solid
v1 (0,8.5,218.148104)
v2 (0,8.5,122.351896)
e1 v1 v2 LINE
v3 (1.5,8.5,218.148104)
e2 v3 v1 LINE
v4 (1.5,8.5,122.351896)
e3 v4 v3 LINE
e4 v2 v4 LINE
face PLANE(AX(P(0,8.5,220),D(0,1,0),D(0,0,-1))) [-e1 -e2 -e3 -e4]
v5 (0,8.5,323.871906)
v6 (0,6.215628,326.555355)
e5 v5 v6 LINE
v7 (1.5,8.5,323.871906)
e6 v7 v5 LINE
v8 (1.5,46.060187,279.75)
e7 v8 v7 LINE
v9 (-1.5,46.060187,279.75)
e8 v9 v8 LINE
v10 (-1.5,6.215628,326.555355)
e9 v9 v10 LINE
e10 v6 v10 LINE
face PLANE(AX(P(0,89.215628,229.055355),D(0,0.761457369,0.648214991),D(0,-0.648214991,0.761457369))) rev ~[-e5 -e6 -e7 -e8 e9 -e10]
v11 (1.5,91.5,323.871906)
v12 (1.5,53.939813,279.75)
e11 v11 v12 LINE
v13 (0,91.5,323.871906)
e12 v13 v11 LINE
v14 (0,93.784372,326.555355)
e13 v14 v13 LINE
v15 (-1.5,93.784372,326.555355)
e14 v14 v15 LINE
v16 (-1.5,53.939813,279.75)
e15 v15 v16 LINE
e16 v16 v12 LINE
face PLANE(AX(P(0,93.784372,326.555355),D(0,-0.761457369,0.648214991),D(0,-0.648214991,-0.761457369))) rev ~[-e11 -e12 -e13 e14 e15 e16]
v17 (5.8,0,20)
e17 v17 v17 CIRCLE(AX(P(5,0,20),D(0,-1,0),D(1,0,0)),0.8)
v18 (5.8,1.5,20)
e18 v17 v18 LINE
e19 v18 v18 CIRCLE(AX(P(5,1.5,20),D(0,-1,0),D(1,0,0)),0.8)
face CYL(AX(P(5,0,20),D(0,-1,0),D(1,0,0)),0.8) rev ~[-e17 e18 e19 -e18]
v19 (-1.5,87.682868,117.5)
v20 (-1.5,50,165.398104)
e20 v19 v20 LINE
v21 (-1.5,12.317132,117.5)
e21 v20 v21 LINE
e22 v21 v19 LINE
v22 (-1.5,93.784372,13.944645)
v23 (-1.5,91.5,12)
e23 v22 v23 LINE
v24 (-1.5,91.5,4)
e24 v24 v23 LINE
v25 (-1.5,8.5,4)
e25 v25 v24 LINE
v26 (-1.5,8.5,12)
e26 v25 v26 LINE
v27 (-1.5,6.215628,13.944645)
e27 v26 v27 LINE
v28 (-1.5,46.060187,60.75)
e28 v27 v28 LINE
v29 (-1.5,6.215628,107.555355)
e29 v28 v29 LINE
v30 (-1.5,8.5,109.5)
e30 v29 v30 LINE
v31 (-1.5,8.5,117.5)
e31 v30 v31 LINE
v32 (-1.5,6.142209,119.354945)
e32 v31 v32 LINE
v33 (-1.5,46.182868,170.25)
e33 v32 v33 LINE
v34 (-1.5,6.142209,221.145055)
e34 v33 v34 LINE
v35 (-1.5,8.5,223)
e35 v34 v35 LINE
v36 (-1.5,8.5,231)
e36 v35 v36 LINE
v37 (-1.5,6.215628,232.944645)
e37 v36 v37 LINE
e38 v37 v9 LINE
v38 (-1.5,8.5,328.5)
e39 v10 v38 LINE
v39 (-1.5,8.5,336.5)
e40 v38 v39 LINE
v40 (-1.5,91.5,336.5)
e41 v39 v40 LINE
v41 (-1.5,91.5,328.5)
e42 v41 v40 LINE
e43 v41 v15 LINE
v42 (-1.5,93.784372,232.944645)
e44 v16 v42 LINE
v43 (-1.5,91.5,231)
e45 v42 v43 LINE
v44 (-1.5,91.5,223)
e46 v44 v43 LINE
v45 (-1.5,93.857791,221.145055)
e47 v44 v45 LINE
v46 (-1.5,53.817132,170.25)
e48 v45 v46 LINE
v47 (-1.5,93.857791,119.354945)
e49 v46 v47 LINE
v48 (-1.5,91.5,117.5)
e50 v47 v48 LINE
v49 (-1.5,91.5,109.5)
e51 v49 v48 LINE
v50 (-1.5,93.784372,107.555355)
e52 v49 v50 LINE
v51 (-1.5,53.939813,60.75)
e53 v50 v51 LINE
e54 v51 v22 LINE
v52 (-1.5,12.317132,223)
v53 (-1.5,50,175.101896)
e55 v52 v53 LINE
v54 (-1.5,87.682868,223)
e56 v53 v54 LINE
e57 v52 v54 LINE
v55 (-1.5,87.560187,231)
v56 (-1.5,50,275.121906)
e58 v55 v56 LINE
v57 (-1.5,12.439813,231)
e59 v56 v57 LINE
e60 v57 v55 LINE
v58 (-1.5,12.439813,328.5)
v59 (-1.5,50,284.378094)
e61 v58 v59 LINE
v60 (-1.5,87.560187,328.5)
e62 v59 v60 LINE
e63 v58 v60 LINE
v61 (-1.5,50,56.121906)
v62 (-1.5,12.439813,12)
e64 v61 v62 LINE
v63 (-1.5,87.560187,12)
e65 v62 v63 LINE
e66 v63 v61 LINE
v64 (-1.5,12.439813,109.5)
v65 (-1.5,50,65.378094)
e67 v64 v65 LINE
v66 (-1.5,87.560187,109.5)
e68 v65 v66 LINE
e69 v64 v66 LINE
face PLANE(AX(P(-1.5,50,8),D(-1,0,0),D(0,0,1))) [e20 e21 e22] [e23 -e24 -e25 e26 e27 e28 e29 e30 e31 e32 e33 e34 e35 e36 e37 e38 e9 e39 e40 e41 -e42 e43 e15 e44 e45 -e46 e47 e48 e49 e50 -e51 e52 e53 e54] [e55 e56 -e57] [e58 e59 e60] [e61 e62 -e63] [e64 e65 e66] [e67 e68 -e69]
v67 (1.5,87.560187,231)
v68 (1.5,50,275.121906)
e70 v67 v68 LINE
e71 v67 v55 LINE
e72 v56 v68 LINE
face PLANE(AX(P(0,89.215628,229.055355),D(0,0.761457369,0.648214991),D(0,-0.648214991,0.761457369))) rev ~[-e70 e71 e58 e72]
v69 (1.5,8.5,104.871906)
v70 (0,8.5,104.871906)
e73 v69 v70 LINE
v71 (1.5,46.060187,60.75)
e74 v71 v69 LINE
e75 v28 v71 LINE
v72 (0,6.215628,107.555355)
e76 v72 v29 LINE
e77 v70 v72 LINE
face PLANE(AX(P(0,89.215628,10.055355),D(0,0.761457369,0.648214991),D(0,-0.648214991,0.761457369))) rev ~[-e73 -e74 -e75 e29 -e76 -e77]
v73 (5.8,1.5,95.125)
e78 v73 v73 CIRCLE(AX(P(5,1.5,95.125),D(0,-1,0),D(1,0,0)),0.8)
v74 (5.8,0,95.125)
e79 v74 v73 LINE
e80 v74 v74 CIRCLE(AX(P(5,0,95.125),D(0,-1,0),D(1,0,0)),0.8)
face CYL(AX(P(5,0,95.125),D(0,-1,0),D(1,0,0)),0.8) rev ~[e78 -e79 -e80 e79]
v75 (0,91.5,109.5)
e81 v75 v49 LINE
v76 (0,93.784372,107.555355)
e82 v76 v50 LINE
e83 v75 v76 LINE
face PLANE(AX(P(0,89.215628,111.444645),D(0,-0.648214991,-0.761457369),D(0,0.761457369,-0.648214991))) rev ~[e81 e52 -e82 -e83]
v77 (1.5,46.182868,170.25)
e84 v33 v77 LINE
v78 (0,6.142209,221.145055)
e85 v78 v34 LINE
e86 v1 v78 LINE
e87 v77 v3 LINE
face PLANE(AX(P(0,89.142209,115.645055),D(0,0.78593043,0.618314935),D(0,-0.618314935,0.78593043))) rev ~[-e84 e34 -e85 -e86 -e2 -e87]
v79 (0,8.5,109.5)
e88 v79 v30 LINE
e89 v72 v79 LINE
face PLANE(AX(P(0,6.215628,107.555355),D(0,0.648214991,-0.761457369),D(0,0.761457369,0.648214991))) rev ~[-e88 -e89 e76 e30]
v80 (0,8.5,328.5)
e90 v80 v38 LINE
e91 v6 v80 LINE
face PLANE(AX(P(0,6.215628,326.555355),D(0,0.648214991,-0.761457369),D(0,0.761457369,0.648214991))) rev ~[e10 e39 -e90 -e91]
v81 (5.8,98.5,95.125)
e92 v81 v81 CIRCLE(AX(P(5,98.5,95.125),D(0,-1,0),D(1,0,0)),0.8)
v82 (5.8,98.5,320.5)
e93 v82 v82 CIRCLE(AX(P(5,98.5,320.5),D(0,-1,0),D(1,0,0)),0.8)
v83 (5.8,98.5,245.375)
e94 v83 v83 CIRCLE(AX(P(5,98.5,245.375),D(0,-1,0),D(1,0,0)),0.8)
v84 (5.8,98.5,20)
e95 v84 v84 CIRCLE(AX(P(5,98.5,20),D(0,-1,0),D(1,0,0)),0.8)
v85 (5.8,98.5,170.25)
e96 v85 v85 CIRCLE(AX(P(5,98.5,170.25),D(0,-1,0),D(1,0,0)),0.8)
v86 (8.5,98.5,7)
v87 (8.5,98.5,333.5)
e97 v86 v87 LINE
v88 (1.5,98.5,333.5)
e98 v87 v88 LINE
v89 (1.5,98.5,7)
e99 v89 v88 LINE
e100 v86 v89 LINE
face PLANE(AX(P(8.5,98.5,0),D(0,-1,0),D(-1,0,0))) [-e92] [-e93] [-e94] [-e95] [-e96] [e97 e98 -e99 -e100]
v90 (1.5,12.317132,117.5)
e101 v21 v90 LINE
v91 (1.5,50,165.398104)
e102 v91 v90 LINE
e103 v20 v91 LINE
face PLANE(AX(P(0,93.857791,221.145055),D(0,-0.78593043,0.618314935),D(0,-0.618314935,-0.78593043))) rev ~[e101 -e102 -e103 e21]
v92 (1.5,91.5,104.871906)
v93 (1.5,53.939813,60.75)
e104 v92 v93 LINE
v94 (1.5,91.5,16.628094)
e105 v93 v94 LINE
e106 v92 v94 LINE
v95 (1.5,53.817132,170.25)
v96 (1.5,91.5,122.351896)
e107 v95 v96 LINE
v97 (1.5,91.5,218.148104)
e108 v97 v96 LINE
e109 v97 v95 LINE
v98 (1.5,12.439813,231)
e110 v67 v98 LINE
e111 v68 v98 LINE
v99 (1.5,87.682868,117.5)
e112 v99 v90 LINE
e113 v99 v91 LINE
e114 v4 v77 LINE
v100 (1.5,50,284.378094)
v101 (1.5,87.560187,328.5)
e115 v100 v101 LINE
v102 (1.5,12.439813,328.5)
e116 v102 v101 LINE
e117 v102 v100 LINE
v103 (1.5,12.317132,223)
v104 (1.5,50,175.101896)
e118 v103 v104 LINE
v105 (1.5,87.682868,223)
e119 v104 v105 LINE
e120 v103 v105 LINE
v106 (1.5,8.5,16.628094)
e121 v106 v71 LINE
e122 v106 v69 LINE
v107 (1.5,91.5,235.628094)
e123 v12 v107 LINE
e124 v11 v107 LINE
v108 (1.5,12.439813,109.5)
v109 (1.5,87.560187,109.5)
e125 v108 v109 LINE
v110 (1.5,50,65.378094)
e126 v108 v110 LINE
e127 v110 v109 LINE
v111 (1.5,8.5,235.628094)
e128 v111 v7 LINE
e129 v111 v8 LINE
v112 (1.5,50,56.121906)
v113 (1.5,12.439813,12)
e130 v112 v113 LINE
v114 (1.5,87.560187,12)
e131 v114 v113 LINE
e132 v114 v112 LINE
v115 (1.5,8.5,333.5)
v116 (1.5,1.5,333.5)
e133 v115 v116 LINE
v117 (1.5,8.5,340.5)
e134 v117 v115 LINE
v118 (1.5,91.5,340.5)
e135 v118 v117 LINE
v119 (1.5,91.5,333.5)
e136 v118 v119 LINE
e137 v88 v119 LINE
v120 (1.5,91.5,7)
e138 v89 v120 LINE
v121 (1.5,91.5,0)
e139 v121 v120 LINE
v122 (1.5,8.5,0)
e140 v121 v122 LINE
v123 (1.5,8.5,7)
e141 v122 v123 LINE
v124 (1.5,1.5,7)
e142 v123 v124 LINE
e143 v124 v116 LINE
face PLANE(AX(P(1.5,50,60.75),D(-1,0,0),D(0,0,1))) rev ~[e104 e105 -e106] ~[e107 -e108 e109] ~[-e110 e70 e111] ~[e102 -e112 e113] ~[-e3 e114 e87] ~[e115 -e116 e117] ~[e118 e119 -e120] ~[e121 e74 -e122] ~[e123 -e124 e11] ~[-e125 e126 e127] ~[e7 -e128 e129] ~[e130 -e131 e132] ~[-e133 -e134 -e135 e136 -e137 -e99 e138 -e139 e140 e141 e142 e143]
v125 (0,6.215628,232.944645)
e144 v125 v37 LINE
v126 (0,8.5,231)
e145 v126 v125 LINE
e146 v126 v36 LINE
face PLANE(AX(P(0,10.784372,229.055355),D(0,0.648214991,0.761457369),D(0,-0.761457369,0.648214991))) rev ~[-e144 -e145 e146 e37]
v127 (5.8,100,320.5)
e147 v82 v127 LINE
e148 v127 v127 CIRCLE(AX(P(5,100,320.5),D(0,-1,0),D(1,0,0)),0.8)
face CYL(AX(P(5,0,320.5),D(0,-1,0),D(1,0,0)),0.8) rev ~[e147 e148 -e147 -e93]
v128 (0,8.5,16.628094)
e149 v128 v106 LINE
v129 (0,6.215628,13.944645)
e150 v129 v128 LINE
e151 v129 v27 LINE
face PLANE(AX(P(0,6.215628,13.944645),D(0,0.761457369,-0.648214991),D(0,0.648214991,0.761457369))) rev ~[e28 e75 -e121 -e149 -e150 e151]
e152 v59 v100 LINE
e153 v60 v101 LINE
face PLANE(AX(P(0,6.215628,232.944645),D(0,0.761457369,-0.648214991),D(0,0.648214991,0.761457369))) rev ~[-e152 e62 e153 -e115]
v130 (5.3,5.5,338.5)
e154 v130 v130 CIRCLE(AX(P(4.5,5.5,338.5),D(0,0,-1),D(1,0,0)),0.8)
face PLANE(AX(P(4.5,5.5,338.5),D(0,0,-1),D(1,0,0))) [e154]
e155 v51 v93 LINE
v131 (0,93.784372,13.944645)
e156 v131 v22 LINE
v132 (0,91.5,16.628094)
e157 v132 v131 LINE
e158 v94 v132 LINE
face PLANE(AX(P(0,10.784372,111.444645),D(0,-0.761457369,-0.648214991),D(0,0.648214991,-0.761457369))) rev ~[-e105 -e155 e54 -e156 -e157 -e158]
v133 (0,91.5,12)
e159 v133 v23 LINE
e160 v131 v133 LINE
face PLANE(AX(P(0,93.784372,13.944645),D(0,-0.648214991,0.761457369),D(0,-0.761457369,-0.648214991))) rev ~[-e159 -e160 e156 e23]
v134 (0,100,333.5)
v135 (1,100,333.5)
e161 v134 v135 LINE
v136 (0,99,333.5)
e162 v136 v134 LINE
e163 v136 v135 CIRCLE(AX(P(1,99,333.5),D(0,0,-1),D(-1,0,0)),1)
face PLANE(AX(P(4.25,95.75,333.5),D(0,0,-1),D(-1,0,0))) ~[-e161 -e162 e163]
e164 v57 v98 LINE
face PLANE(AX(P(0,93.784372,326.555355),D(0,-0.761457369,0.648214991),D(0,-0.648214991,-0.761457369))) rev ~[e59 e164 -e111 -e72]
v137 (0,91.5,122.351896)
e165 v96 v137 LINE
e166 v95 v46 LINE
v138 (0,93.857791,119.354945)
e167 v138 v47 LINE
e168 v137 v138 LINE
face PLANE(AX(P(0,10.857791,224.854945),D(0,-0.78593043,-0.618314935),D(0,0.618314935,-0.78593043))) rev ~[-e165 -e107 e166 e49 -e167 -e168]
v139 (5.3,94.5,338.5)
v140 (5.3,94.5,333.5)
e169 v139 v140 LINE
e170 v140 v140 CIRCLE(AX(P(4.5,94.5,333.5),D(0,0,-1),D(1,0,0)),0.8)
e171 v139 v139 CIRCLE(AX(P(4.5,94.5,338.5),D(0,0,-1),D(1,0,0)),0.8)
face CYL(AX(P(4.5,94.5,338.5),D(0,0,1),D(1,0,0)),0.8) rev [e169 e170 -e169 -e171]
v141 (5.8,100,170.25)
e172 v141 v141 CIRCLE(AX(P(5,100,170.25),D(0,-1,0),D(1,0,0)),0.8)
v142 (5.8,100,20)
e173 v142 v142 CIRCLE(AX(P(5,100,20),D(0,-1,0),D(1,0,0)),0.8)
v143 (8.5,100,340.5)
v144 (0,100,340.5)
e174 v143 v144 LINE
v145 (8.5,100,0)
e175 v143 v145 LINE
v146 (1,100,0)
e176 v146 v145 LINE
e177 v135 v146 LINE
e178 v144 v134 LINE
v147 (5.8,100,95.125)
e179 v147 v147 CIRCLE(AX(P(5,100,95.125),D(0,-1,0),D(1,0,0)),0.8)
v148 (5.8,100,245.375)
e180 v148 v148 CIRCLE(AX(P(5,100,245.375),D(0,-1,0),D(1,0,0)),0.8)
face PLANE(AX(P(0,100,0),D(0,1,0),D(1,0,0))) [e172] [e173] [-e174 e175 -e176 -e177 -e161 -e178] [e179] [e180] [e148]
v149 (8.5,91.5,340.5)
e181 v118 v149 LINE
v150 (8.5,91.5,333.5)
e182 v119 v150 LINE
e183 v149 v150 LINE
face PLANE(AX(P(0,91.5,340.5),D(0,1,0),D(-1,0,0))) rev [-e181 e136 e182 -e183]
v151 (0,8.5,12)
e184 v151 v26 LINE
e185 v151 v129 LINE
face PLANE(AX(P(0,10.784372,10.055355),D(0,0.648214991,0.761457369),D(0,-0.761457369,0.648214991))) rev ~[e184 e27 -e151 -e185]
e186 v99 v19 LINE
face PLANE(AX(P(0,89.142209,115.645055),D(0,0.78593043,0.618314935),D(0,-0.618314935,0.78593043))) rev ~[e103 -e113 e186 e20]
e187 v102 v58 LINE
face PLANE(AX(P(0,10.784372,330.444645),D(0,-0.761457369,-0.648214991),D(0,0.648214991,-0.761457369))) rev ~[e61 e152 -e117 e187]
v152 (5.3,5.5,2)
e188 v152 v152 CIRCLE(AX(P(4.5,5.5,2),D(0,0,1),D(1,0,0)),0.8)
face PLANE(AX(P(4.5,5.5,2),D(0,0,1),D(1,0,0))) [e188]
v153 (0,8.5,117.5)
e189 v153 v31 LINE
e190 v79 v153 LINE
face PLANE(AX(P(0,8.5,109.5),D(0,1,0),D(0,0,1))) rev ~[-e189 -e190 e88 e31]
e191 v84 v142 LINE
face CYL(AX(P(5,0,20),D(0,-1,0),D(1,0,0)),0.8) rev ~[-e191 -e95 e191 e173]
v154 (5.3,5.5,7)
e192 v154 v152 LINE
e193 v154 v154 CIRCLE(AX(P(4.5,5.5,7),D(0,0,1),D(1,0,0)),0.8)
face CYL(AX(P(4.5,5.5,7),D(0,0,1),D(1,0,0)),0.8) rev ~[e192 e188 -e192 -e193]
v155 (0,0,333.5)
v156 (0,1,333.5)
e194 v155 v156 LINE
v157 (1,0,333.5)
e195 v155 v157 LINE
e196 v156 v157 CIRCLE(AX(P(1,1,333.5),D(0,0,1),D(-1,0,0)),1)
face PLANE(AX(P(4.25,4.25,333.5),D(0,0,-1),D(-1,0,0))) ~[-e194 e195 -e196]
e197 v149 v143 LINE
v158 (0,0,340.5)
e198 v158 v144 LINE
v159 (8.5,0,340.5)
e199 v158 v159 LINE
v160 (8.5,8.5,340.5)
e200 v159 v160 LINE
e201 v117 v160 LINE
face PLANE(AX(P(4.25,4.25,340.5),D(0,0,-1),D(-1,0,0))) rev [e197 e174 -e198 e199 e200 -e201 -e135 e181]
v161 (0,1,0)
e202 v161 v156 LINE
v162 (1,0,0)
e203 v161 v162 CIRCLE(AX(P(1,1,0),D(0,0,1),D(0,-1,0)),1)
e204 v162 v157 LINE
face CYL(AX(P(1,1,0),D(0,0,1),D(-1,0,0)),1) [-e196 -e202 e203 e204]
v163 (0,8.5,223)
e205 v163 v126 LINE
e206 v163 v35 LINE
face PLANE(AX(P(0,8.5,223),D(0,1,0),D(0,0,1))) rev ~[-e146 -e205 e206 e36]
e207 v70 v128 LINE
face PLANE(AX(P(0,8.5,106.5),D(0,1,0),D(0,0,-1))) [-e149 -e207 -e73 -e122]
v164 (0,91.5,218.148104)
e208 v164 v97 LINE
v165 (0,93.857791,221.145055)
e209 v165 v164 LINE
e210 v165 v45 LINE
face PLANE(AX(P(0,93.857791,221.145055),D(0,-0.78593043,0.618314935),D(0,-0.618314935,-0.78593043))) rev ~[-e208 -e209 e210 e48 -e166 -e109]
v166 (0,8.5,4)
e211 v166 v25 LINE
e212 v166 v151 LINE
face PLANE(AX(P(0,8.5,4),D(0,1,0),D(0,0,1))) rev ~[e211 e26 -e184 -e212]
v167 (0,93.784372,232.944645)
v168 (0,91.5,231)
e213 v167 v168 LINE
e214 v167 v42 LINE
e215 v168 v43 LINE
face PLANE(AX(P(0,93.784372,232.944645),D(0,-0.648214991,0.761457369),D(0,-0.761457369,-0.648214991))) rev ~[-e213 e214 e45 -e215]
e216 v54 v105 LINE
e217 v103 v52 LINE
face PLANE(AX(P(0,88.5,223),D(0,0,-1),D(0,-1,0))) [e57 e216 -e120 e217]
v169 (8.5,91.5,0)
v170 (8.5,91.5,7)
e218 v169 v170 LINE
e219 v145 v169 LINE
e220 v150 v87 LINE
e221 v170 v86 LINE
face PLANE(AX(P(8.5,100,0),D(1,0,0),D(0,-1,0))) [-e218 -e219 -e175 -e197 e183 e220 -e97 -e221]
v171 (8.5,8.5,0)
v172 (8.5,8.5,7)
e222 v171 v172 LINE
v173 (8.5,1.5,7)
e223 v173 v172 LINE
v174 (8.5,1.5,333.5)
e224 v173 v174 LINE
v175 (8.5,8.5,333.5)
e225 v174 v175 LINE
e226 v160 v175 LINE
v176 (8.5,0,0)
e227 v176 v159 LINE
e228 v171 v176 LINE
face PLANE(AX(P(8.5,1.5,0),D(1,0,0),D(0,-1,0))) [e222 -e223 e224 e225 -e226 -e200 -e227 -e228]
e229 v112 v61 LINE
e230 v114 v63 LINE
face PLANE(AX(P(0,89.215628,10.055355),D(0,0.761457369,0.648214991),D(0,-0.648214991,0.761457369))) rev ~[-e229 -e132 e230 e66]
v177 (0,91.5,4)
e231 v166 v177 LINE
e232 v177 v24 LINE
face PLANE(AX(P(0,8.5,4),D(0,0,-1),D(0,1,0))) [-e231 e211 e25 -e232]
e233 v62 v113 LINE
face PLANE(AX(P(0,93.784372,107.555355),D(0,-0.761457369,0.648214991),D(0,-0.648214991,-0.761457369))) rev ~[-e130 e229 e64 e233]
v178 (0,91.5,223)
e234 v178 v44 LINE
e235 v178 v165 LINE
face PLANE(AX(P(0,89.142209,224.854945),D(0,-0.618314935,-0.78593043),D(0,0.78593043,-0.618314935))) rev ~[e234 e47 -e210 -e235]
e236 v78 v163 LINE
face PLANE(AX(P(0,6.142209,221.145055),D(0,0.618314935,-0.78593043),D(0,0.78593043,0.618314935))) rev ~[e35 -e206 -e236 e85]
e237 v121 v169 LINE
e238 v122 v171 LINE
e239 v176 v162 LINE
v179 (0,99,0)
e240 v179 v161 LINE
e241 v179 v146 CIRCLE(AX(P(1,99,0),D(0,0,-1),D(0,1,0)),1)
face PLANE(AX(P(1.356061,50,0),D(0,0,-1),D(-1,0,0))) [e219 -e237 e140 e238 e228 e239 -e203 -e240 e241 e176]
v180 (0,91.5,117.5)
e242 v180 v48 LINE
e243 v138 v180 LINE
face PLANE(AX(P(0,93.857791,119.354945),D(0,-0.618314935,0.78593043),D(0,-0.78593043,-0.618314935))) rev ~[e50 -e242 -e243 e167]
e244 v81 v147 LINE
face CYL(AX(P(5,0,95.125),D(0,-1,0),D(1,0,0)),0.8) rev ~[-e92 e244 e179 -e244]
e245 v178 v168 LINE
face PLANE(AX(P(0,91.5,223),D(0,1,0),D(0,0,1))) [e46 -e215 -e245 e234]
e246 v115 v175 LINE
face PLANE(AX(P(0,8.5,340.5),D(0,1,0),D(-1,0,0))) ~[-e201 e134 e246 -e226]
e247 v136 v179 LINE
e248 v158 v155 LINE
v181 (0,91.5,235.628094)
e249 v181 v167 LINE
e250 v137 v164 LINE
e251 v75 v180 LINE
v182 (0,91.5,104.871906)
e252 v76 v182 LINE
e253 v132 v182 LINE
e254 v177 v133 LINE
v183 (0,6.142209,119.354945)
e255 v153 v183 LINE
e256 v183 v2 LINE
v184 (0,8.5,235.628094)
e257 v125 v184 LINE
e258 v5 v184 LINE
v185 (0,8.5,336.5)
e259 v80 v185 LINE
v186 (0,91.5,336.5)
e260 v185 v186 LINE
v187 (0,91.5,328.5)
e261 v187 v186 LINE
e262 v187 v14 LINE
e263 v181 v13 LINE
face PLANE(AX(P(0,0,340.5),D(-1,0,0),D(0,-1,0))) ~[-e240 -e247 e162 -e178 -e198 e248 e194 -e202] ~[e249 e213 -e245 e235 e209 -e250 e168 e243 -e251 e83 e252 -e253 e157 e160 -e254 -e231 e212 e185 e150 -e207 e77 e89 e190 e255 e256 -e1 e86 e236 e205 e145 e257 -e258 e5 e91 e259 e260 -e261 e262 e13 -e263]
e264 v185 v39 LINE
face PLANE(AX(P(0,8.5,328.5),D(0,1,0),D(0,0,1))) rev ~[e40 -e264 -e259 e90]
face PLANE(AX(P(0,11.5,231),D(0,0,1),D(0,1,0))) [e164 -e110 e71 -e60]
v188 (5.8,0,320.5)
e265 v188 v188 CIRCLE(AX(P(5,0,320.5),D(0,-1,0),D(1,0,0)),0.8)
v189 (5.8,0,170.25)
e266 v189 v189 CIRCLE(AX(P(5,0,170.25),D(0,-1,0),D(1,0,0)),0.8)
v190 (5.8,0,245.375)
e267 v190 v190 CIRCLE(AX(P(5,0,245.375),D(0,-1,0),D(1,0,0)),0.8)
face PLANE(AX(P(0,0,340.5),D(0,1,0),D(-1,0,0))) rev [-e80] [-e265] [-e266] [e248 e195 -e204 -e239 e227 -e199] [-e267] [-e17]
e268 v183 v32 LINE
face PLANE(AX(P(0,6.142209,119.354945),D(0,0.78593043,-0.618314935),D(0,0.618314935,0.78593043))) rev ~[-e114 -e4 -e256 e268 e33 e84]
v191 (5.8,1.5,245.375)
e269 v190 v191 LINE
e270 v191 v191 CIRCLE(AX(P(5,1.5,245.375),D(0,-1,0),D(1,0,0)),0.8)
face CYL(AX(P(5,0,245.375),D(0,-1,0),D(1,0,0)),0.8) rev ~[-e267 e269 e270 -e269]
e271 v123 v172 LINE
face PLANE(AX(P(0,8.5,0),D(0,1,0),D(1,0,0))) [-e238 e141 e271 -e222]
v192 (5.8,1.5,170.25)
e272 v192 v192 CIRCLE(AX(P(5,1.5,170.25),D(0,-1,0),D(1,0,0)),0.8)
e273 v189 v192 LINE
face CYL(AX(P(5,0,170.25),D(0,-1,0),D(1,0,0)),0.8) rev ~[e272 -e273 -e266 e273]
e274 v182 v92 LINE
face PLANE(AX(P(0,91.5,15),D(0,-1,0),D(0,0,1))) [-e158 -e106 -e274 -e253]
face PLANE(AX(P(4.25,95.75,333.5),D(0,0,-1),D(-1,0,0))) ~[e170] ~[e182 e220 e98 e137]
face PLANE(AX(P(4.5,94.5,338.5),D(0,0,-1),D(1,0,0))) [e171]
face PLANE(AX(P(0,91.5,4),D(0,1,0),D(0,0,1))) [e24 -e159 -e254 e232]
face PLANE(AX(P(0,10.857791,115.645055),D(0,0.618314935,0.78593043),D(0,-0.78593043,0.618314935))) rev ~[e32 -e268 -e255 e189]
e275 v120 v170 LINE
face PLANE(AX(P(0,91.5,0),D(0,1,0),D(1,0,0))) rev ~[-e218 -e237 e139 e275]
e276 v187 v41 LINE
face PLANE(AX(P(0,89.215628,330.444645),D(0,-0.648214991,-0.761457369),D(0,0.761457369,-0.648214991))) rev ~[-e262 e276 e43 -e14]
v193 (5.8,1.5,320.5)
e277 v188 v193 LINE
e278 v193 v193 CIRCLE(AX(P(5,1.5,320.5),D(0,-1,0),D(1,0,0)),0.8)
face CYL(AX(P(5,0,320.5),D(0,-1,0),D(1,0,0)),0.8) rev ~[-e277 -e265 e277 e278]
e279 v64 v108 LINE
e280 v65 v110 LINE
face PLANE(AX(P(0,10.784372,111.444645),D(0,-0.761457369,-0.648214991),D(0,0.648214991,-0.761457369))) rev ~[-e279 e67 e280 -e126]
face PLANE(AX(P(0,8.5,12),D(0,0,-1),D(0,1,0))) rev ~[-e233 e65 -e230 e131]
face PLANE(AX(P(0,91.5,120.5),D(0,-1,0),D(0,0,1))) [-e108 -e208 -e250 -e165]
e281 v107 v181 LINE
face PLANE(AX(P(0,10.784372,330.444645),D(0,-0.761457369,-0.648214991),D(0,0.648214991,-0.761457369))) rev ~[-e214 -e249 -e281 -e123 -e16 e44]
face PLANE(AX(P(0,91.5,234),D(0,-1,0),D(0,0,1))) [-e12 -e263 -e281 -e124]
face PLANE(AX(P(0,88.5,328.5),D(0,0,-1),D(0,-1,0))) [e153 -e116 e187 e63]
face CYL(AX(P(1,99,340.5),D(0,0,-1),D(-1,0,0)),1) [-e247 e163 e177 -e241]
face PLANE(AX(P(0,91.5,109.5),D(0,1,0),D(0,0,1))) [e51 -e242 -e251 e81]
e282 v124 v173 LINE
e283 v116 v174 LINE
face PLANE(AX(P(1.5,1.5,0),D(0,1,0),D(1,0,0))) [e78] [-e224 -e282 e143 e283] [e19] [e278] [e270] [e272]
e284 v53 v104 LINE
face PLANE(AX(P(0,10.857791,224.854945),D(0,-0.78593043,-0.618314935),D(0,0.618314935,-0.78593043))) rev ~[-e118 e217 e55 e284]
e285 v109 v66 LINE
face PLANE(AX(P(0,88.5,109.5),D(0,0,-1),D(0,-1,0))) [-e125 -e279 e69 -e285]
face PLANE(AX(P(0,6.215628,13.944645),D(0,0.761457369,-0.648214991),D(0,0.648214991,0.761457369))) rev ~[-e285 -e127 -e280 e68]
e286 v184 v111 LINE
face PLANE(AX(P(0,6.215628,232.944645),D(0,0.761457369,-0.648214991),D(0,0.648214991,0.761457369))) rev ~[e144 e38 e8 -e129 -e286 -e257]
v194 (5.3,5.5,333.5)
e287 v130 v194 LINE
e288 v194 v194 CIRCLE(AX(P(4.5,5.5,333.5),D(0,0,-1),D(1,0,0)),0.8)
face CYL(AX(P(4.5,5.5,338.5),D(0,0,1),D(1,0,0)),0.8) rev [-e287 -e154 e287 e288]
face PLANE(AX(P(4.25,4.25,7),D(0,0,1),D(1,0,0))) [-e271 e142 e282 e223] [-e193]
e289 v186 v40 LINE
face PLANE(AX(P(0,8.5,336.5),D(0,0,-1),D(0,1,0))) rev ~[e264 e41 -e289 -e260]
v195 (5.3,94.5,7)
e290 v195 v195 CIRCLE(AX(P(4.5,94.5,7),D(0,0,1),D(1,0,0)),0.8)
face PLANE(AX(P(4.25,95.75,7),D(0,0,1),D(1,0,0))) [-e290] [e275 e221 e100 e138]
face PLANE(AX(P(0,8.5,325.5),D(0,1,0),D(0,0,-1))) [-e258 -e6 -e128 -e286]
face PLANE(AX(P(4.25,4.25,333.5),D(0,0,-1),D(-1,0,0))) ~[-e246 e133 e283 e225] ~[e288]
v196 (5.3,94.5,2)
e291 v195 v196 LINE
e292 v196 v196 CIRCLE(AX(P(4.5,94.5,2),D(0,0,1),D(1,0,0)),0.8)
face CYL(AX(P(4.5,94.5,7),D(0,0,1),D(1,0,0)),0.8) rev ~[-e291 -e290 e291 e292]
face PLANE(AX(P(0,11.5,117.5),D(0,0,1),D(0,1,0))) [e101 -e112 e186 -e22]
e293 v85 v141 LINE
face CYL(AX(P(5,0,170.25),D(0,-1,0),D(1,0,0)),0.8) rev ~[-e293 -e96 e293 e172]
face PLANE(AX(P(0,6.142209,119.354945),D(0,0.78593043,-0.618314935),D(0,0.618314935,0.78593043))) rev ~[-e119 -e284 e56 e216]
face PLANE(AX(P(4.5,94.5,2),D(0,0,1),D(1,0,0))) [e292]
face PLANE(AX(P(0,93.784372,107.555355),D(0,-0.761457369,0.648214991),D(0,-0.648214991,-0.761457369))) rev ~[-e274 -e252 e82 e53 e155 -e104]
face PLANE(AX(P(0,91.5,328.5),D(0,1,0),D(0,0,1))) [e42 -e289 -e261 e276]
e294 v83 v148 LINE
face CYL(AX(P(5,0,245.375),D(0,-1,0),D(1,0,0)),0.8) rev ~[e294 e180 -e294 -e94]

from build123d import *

# Parameters (mm, degrees)
PROFILE_DEPTH                               = 340.5
SKETCH2_W                                   = 8.5
SKETCH2_H                                   = 8.5
FEET_DEPTH                                  = 7
POCKETS_DEPTH                               = 355.98239393
RAIL_EDGE_R1_R                              = 1
M2_TAP_HOLES_SKETCH_R                       = 0.8
M2_TAP_HOLES_1_6_DRILL_DEPTH                = 355.98239393
FOOT_TAPS_SKETCH_Z0_END_R                   = 0.8
M2_FOOT_TAPS_1_6_DRILL_5_DEEP_Z0_END_DEPTH  = 5
M2_START                                    = -5
FOOT_TAPS_SKETCH_Z340_END_R                 = 0.8
M2_FOOT_TAPS_1_6_DRILL_5_DEEP_Z340_EN_DEPTH = 5
BRACES_DEPTH                                = 1.5
BRACES_2_DEPTH                              = 1.5
BRACES_OUTER_DEPTH                          = 1.5
BRACES_OUTER_2_DEPTH                        = 1.5
PANEL_PADS_SKETCH_W                         = 8
PANEL_PADS_SKETCH_H                         = 83
PANEL_PADS_DEPTH                            = 1.5


with BuildPart() as part:
    # Sketch1 → Profile (new body)
    with BuildSketch(Plane.XY):
        Polygon((0, 0), (0, 100), (8.5, 100), (8.5, 98.5), (1.5, 98.5), (1.5, 1.5), (8.5, 1.5), (8.5, 0), align=None)
    extrude(amount=PROFILE_DEPTH)

    # Sketch2 → Feet (add)
    with BuildSketch(Plane.XY):
        with Locations((4.25, 4.25)):
            Rectangle(SKETCH2_W, SKETCH2_H)
        with Locations((4.25, 95.75)):
            Rectangle(SKETCH2_W, SKETCH2_H)
    feet = extrude(amount=FEET_DEPTH)

    # Sketch5 → Pockets (cut, through all)
    with BuildSketch(Plane(origin=(0, 0, 0), x_dir=(0, 0, -1), z_dir=(1, 0, 0))):
        with BuildLine():
            Line((-15, 91.5), (-106.5, 91.5))
            ThreePointArc((-106.5, 91.5), (-108.621320344, 90.621320344), (-109.5, 88.5))
            Line((-109.5, 88.5), (-109.5, 11.5))
            ThreePointArc((-109.5, 11.5), (-108.621320344, 9.378679656), (-106.5, 8.5))
            Line((-106.5, 8.5), (-15, 8.5))
            ThreePointArc((-15, 8.5), (-12.878679656, 9.378679656), (-12, 11.5))
            Line((-12, 11.5), (-12, 88.5))
            ThreePointArc((-12, 88.5), (-12.878679656, 90.621320344), (-15, 91.5))
        make_face()
        with BuildLine():
            Line((-120.5, 91.5), (-220, 91.5))
            ThreePointArc((-220, 91.5), (-222.121320344, 90.621320344), (-223, 88.5))
            Line((-223, 88.5), (-223, 11.5))
            ThreePointArc((-223, 11.5), (-222.121320344, 9.378679656), (-220, 8.5))
            Line((-220, 8.5), (-120.5, 8.5))
            ThreePointArc((-120.5, 8.5), (-118.378679656, 9.378679656), (-117.5, 11.5))
            Line((-117.5, 11.5), (-117.5, 88.5))
            ThreePointArc((-117.5, 88.5), (-118.378679656, 90.621320344), (-120.5, 91.5))
        make_face()
        with BuildLine():
            Line((-234, 91.5), (-325.5, 91.5))
            ThreePointArc((-325.5, 91.5), (-327.621320344, 90.621320344), (-328.5, 88.5))
            Line((-328.5, 88.5), (-328.5, 11.5))
            ThreePointArc((-328.5, 11.5), (-327.621320344, 9.378679656), (-325.5, 8.5))
            Line((-325.5, 8.5), (-234, 8.5))
            ThreePointArc((-234, 8.5), (-231.878679656, 9.378679656), (-231, 11.5))
            Line((-231, 11.5), (-231, 88.5))
            ThreePointArc((-231, 88.5), (-231.878679656, 90.621320344), (-234, 91.5))
        make_face()
    extrude(amount=POCKETS_DEPTH, mode=Mode.SUBTRACT)

    # Rail Edge R1
    rail_edge_r1_edges = [part.edges().sort_by_distance(p)[0] for p in [
        (0, 0, 170.25),
        (0, 100, 170.25),
    ]]
    fillet(rail_edge_r1_edges, radius=RAIL_EDGE_R1_R)

    # Feet Mirror: Feet across plane
    add(feet.mirror(Plane.XY.offset(170.25)))

    # M2 tap holes sketch → M2 Tap Holes (1.6 drill) (cut, through all)
    with BuildSketch(Plane.XZ):
        with Locations((5, 20)):
            Circle(M2_TAP_HOLES_SKETCH_R)
        with Locations((5, 95.125)):
            Circle(M2_TAP_HOLES_SKETCH_R)
        with Locations((5, 170.25)):
            Circle(M2_TAP_HOLES_SKETCH_R)
        with Locations((5, 245.375)):
            Circle(M2_TAP_HOLES_SKETCH_R)
        with Locations((5, 320.5)):
            Circle(M2_TAP_HOLES_SKETCH_R)
    extrude(amount=-M2_TAP_HOLES_1_6_DRILL_DEPTH, mode=Mode.SUBTRACT)

    # Foot taps sketch z0 end → M2 Foot Taps (1.6 drill, 5 deep) z0 end (cut)
    with BuildSketch(Plane.XY.offset(7)):
        with Locations((4.5, 5.5)):
            Circle(FOOT_TAPS_SKETCH_Z0_END_R)
        with Locations((4.5, 94.5)):
            Circle(FOOT_TAPS_SKETCH_Z0_END_R)
    extrude(amount=-M2_FOOT_TAPS_1_6_DRILL_5_DEEP_Z0_END_DEPTH, mode=Mode.SUBTRACT)

    # Foot taps sketch z340 end → M2 Foot Taps (1.6 drill, 5 deep) z340 end (cut)
    with BuildSketch(Plane(origin=(0, 0, 333.5), x_dir=(-1, 0, 0), z_dir=(0, 0, -1)).offset(M2_START)):
        with Locations(Location((-4.5, 5.5, 0), (0, 0, 180))):
            Circle(FOOT_TAPS_SKETCH_Z340_END_R)
        with Locations(Location((-4.5, 94.5, 0), (0, 0, 180))):
            Circle(FOOT_TAPS_SKETCH_Z340_END_R)
    extrude(amount=M2_FOOT_TAPS_1_6_DRILL_5_DEEP_Z340_EN_DEPTH, mode=Mode.SUBTRACT)

    # Braces _ sketch → Braces (add)
    with BuildSketch(Plane.ZY):
        Polygon((13.944644974, 6.215627892), (111.444644974, 89.215627892), (107.555355026, 93.784372108), (10.055355026, 10.784372108), align=None)
        Polygon((119.354944806, 6.14220871), (224.854944806, 89.14220871), (221.145055194, 93.85779129), (115.645055194, 10.85779129), align=None)
        Polygon((232.944644974, 6.215627892), (330.444644974, 89.215627892), (326.555355026, 93.784372108), (229.055355026, 10.784372108), align=None)
    extrude(amount=-BRACES_DEPTH)

    # Braces _ sketch 2 → Braces 2 (add)
    with BuildSketch(Plane.ZY):
        Polygon((10.055355026, 89.215627892), (107.555355026, 6.215627892), (111.444644974, 10.784372108), (13.944644974, 93.784372108), align=None)
        Polygon((115.645055194, 89.14220871), (221.145055194, 6.14220871), (224.854944806, 10.85779129), (119.354944806, 93.85779129), align=None)
        Polygon((229.055355026, 89.215627892), (326.555355026, 6.215627892), (330.444644974, 10.784372108), (232.944644974, 93.784372108), align=None)
    extrude(amount=-BRACES_2_DEPTH)

    # Braces _ outer sketch → Braces _ outer (add)
    with BuildSketch(Plane.ZY):
        Polygon((13.944644974, 6.215627892), (111.444644974, 89.215627892), (107.555355026, 93.784372108), (10.055355026, 10.784372108), align=None)
        Polygon((119.354944806, 6.14220871), (224.854944806, 89.14220871), (221.145055194, 93.85779129), (115.645055194, 10.85779129), align=None)
        Polygon((232.944644974, 6.215627892), (330.444644974, 89.215627892), (326.555355026, 93.784372108), (229.055355026, 10.784372108), align=None)
    extrude(amount=BRACES_OUTER_DEPTH)

    # Braces _ outer sketch 2 → Braces _ outer 2 (add)
    with BuildSketch(Plane.ZY):
        Polygon((10.055355026, 89.215627892), (107.555355026, 6.215627892), (111.444644974, 10.784372108), (13.944644974, 93.784372108), align=None)
        Polygon((115.645055194, 89.14220871), (221.145055194, 6.14220871), (224.854944806, 10.85779129), (119.354944806, 93.85779129), align=None)
        Polygon((229.055355026, 89.215627892), (326.555355026, 6.215627892), (330.444644974, 10.784372108), (232.944644974, 93.784372108), align=None)
    extrude(amount=BRACES_OUTER_2_DEPTH)

    # Panel pads sketch → Panel pads (add)
    with BuildSketch(Plane.ZY):
        with Locations((8, 50)):
            Rectangle(PANEL_PADS_SKETCH_W, PANEL_PADS_SKETCH_H)
        with Locations((113.5, 50)):
            Rectangle(PANEL_PADS_SKETCH_W, PANEL_PADS_SKETCH_H)
        with Locations((227, 50)):
            Rectangle(PANEL_PADS_SKETCH_W, PANEL_PADS_SKETCH_H)
        with Locations((332.5, 50)):
            Rectangle(PANEL_PADS_SKETCH_W, PANEL_PADS_SKETCH_H)
    extrude(amount=PANEL_PADS_DEPTH)


solid = part.part
